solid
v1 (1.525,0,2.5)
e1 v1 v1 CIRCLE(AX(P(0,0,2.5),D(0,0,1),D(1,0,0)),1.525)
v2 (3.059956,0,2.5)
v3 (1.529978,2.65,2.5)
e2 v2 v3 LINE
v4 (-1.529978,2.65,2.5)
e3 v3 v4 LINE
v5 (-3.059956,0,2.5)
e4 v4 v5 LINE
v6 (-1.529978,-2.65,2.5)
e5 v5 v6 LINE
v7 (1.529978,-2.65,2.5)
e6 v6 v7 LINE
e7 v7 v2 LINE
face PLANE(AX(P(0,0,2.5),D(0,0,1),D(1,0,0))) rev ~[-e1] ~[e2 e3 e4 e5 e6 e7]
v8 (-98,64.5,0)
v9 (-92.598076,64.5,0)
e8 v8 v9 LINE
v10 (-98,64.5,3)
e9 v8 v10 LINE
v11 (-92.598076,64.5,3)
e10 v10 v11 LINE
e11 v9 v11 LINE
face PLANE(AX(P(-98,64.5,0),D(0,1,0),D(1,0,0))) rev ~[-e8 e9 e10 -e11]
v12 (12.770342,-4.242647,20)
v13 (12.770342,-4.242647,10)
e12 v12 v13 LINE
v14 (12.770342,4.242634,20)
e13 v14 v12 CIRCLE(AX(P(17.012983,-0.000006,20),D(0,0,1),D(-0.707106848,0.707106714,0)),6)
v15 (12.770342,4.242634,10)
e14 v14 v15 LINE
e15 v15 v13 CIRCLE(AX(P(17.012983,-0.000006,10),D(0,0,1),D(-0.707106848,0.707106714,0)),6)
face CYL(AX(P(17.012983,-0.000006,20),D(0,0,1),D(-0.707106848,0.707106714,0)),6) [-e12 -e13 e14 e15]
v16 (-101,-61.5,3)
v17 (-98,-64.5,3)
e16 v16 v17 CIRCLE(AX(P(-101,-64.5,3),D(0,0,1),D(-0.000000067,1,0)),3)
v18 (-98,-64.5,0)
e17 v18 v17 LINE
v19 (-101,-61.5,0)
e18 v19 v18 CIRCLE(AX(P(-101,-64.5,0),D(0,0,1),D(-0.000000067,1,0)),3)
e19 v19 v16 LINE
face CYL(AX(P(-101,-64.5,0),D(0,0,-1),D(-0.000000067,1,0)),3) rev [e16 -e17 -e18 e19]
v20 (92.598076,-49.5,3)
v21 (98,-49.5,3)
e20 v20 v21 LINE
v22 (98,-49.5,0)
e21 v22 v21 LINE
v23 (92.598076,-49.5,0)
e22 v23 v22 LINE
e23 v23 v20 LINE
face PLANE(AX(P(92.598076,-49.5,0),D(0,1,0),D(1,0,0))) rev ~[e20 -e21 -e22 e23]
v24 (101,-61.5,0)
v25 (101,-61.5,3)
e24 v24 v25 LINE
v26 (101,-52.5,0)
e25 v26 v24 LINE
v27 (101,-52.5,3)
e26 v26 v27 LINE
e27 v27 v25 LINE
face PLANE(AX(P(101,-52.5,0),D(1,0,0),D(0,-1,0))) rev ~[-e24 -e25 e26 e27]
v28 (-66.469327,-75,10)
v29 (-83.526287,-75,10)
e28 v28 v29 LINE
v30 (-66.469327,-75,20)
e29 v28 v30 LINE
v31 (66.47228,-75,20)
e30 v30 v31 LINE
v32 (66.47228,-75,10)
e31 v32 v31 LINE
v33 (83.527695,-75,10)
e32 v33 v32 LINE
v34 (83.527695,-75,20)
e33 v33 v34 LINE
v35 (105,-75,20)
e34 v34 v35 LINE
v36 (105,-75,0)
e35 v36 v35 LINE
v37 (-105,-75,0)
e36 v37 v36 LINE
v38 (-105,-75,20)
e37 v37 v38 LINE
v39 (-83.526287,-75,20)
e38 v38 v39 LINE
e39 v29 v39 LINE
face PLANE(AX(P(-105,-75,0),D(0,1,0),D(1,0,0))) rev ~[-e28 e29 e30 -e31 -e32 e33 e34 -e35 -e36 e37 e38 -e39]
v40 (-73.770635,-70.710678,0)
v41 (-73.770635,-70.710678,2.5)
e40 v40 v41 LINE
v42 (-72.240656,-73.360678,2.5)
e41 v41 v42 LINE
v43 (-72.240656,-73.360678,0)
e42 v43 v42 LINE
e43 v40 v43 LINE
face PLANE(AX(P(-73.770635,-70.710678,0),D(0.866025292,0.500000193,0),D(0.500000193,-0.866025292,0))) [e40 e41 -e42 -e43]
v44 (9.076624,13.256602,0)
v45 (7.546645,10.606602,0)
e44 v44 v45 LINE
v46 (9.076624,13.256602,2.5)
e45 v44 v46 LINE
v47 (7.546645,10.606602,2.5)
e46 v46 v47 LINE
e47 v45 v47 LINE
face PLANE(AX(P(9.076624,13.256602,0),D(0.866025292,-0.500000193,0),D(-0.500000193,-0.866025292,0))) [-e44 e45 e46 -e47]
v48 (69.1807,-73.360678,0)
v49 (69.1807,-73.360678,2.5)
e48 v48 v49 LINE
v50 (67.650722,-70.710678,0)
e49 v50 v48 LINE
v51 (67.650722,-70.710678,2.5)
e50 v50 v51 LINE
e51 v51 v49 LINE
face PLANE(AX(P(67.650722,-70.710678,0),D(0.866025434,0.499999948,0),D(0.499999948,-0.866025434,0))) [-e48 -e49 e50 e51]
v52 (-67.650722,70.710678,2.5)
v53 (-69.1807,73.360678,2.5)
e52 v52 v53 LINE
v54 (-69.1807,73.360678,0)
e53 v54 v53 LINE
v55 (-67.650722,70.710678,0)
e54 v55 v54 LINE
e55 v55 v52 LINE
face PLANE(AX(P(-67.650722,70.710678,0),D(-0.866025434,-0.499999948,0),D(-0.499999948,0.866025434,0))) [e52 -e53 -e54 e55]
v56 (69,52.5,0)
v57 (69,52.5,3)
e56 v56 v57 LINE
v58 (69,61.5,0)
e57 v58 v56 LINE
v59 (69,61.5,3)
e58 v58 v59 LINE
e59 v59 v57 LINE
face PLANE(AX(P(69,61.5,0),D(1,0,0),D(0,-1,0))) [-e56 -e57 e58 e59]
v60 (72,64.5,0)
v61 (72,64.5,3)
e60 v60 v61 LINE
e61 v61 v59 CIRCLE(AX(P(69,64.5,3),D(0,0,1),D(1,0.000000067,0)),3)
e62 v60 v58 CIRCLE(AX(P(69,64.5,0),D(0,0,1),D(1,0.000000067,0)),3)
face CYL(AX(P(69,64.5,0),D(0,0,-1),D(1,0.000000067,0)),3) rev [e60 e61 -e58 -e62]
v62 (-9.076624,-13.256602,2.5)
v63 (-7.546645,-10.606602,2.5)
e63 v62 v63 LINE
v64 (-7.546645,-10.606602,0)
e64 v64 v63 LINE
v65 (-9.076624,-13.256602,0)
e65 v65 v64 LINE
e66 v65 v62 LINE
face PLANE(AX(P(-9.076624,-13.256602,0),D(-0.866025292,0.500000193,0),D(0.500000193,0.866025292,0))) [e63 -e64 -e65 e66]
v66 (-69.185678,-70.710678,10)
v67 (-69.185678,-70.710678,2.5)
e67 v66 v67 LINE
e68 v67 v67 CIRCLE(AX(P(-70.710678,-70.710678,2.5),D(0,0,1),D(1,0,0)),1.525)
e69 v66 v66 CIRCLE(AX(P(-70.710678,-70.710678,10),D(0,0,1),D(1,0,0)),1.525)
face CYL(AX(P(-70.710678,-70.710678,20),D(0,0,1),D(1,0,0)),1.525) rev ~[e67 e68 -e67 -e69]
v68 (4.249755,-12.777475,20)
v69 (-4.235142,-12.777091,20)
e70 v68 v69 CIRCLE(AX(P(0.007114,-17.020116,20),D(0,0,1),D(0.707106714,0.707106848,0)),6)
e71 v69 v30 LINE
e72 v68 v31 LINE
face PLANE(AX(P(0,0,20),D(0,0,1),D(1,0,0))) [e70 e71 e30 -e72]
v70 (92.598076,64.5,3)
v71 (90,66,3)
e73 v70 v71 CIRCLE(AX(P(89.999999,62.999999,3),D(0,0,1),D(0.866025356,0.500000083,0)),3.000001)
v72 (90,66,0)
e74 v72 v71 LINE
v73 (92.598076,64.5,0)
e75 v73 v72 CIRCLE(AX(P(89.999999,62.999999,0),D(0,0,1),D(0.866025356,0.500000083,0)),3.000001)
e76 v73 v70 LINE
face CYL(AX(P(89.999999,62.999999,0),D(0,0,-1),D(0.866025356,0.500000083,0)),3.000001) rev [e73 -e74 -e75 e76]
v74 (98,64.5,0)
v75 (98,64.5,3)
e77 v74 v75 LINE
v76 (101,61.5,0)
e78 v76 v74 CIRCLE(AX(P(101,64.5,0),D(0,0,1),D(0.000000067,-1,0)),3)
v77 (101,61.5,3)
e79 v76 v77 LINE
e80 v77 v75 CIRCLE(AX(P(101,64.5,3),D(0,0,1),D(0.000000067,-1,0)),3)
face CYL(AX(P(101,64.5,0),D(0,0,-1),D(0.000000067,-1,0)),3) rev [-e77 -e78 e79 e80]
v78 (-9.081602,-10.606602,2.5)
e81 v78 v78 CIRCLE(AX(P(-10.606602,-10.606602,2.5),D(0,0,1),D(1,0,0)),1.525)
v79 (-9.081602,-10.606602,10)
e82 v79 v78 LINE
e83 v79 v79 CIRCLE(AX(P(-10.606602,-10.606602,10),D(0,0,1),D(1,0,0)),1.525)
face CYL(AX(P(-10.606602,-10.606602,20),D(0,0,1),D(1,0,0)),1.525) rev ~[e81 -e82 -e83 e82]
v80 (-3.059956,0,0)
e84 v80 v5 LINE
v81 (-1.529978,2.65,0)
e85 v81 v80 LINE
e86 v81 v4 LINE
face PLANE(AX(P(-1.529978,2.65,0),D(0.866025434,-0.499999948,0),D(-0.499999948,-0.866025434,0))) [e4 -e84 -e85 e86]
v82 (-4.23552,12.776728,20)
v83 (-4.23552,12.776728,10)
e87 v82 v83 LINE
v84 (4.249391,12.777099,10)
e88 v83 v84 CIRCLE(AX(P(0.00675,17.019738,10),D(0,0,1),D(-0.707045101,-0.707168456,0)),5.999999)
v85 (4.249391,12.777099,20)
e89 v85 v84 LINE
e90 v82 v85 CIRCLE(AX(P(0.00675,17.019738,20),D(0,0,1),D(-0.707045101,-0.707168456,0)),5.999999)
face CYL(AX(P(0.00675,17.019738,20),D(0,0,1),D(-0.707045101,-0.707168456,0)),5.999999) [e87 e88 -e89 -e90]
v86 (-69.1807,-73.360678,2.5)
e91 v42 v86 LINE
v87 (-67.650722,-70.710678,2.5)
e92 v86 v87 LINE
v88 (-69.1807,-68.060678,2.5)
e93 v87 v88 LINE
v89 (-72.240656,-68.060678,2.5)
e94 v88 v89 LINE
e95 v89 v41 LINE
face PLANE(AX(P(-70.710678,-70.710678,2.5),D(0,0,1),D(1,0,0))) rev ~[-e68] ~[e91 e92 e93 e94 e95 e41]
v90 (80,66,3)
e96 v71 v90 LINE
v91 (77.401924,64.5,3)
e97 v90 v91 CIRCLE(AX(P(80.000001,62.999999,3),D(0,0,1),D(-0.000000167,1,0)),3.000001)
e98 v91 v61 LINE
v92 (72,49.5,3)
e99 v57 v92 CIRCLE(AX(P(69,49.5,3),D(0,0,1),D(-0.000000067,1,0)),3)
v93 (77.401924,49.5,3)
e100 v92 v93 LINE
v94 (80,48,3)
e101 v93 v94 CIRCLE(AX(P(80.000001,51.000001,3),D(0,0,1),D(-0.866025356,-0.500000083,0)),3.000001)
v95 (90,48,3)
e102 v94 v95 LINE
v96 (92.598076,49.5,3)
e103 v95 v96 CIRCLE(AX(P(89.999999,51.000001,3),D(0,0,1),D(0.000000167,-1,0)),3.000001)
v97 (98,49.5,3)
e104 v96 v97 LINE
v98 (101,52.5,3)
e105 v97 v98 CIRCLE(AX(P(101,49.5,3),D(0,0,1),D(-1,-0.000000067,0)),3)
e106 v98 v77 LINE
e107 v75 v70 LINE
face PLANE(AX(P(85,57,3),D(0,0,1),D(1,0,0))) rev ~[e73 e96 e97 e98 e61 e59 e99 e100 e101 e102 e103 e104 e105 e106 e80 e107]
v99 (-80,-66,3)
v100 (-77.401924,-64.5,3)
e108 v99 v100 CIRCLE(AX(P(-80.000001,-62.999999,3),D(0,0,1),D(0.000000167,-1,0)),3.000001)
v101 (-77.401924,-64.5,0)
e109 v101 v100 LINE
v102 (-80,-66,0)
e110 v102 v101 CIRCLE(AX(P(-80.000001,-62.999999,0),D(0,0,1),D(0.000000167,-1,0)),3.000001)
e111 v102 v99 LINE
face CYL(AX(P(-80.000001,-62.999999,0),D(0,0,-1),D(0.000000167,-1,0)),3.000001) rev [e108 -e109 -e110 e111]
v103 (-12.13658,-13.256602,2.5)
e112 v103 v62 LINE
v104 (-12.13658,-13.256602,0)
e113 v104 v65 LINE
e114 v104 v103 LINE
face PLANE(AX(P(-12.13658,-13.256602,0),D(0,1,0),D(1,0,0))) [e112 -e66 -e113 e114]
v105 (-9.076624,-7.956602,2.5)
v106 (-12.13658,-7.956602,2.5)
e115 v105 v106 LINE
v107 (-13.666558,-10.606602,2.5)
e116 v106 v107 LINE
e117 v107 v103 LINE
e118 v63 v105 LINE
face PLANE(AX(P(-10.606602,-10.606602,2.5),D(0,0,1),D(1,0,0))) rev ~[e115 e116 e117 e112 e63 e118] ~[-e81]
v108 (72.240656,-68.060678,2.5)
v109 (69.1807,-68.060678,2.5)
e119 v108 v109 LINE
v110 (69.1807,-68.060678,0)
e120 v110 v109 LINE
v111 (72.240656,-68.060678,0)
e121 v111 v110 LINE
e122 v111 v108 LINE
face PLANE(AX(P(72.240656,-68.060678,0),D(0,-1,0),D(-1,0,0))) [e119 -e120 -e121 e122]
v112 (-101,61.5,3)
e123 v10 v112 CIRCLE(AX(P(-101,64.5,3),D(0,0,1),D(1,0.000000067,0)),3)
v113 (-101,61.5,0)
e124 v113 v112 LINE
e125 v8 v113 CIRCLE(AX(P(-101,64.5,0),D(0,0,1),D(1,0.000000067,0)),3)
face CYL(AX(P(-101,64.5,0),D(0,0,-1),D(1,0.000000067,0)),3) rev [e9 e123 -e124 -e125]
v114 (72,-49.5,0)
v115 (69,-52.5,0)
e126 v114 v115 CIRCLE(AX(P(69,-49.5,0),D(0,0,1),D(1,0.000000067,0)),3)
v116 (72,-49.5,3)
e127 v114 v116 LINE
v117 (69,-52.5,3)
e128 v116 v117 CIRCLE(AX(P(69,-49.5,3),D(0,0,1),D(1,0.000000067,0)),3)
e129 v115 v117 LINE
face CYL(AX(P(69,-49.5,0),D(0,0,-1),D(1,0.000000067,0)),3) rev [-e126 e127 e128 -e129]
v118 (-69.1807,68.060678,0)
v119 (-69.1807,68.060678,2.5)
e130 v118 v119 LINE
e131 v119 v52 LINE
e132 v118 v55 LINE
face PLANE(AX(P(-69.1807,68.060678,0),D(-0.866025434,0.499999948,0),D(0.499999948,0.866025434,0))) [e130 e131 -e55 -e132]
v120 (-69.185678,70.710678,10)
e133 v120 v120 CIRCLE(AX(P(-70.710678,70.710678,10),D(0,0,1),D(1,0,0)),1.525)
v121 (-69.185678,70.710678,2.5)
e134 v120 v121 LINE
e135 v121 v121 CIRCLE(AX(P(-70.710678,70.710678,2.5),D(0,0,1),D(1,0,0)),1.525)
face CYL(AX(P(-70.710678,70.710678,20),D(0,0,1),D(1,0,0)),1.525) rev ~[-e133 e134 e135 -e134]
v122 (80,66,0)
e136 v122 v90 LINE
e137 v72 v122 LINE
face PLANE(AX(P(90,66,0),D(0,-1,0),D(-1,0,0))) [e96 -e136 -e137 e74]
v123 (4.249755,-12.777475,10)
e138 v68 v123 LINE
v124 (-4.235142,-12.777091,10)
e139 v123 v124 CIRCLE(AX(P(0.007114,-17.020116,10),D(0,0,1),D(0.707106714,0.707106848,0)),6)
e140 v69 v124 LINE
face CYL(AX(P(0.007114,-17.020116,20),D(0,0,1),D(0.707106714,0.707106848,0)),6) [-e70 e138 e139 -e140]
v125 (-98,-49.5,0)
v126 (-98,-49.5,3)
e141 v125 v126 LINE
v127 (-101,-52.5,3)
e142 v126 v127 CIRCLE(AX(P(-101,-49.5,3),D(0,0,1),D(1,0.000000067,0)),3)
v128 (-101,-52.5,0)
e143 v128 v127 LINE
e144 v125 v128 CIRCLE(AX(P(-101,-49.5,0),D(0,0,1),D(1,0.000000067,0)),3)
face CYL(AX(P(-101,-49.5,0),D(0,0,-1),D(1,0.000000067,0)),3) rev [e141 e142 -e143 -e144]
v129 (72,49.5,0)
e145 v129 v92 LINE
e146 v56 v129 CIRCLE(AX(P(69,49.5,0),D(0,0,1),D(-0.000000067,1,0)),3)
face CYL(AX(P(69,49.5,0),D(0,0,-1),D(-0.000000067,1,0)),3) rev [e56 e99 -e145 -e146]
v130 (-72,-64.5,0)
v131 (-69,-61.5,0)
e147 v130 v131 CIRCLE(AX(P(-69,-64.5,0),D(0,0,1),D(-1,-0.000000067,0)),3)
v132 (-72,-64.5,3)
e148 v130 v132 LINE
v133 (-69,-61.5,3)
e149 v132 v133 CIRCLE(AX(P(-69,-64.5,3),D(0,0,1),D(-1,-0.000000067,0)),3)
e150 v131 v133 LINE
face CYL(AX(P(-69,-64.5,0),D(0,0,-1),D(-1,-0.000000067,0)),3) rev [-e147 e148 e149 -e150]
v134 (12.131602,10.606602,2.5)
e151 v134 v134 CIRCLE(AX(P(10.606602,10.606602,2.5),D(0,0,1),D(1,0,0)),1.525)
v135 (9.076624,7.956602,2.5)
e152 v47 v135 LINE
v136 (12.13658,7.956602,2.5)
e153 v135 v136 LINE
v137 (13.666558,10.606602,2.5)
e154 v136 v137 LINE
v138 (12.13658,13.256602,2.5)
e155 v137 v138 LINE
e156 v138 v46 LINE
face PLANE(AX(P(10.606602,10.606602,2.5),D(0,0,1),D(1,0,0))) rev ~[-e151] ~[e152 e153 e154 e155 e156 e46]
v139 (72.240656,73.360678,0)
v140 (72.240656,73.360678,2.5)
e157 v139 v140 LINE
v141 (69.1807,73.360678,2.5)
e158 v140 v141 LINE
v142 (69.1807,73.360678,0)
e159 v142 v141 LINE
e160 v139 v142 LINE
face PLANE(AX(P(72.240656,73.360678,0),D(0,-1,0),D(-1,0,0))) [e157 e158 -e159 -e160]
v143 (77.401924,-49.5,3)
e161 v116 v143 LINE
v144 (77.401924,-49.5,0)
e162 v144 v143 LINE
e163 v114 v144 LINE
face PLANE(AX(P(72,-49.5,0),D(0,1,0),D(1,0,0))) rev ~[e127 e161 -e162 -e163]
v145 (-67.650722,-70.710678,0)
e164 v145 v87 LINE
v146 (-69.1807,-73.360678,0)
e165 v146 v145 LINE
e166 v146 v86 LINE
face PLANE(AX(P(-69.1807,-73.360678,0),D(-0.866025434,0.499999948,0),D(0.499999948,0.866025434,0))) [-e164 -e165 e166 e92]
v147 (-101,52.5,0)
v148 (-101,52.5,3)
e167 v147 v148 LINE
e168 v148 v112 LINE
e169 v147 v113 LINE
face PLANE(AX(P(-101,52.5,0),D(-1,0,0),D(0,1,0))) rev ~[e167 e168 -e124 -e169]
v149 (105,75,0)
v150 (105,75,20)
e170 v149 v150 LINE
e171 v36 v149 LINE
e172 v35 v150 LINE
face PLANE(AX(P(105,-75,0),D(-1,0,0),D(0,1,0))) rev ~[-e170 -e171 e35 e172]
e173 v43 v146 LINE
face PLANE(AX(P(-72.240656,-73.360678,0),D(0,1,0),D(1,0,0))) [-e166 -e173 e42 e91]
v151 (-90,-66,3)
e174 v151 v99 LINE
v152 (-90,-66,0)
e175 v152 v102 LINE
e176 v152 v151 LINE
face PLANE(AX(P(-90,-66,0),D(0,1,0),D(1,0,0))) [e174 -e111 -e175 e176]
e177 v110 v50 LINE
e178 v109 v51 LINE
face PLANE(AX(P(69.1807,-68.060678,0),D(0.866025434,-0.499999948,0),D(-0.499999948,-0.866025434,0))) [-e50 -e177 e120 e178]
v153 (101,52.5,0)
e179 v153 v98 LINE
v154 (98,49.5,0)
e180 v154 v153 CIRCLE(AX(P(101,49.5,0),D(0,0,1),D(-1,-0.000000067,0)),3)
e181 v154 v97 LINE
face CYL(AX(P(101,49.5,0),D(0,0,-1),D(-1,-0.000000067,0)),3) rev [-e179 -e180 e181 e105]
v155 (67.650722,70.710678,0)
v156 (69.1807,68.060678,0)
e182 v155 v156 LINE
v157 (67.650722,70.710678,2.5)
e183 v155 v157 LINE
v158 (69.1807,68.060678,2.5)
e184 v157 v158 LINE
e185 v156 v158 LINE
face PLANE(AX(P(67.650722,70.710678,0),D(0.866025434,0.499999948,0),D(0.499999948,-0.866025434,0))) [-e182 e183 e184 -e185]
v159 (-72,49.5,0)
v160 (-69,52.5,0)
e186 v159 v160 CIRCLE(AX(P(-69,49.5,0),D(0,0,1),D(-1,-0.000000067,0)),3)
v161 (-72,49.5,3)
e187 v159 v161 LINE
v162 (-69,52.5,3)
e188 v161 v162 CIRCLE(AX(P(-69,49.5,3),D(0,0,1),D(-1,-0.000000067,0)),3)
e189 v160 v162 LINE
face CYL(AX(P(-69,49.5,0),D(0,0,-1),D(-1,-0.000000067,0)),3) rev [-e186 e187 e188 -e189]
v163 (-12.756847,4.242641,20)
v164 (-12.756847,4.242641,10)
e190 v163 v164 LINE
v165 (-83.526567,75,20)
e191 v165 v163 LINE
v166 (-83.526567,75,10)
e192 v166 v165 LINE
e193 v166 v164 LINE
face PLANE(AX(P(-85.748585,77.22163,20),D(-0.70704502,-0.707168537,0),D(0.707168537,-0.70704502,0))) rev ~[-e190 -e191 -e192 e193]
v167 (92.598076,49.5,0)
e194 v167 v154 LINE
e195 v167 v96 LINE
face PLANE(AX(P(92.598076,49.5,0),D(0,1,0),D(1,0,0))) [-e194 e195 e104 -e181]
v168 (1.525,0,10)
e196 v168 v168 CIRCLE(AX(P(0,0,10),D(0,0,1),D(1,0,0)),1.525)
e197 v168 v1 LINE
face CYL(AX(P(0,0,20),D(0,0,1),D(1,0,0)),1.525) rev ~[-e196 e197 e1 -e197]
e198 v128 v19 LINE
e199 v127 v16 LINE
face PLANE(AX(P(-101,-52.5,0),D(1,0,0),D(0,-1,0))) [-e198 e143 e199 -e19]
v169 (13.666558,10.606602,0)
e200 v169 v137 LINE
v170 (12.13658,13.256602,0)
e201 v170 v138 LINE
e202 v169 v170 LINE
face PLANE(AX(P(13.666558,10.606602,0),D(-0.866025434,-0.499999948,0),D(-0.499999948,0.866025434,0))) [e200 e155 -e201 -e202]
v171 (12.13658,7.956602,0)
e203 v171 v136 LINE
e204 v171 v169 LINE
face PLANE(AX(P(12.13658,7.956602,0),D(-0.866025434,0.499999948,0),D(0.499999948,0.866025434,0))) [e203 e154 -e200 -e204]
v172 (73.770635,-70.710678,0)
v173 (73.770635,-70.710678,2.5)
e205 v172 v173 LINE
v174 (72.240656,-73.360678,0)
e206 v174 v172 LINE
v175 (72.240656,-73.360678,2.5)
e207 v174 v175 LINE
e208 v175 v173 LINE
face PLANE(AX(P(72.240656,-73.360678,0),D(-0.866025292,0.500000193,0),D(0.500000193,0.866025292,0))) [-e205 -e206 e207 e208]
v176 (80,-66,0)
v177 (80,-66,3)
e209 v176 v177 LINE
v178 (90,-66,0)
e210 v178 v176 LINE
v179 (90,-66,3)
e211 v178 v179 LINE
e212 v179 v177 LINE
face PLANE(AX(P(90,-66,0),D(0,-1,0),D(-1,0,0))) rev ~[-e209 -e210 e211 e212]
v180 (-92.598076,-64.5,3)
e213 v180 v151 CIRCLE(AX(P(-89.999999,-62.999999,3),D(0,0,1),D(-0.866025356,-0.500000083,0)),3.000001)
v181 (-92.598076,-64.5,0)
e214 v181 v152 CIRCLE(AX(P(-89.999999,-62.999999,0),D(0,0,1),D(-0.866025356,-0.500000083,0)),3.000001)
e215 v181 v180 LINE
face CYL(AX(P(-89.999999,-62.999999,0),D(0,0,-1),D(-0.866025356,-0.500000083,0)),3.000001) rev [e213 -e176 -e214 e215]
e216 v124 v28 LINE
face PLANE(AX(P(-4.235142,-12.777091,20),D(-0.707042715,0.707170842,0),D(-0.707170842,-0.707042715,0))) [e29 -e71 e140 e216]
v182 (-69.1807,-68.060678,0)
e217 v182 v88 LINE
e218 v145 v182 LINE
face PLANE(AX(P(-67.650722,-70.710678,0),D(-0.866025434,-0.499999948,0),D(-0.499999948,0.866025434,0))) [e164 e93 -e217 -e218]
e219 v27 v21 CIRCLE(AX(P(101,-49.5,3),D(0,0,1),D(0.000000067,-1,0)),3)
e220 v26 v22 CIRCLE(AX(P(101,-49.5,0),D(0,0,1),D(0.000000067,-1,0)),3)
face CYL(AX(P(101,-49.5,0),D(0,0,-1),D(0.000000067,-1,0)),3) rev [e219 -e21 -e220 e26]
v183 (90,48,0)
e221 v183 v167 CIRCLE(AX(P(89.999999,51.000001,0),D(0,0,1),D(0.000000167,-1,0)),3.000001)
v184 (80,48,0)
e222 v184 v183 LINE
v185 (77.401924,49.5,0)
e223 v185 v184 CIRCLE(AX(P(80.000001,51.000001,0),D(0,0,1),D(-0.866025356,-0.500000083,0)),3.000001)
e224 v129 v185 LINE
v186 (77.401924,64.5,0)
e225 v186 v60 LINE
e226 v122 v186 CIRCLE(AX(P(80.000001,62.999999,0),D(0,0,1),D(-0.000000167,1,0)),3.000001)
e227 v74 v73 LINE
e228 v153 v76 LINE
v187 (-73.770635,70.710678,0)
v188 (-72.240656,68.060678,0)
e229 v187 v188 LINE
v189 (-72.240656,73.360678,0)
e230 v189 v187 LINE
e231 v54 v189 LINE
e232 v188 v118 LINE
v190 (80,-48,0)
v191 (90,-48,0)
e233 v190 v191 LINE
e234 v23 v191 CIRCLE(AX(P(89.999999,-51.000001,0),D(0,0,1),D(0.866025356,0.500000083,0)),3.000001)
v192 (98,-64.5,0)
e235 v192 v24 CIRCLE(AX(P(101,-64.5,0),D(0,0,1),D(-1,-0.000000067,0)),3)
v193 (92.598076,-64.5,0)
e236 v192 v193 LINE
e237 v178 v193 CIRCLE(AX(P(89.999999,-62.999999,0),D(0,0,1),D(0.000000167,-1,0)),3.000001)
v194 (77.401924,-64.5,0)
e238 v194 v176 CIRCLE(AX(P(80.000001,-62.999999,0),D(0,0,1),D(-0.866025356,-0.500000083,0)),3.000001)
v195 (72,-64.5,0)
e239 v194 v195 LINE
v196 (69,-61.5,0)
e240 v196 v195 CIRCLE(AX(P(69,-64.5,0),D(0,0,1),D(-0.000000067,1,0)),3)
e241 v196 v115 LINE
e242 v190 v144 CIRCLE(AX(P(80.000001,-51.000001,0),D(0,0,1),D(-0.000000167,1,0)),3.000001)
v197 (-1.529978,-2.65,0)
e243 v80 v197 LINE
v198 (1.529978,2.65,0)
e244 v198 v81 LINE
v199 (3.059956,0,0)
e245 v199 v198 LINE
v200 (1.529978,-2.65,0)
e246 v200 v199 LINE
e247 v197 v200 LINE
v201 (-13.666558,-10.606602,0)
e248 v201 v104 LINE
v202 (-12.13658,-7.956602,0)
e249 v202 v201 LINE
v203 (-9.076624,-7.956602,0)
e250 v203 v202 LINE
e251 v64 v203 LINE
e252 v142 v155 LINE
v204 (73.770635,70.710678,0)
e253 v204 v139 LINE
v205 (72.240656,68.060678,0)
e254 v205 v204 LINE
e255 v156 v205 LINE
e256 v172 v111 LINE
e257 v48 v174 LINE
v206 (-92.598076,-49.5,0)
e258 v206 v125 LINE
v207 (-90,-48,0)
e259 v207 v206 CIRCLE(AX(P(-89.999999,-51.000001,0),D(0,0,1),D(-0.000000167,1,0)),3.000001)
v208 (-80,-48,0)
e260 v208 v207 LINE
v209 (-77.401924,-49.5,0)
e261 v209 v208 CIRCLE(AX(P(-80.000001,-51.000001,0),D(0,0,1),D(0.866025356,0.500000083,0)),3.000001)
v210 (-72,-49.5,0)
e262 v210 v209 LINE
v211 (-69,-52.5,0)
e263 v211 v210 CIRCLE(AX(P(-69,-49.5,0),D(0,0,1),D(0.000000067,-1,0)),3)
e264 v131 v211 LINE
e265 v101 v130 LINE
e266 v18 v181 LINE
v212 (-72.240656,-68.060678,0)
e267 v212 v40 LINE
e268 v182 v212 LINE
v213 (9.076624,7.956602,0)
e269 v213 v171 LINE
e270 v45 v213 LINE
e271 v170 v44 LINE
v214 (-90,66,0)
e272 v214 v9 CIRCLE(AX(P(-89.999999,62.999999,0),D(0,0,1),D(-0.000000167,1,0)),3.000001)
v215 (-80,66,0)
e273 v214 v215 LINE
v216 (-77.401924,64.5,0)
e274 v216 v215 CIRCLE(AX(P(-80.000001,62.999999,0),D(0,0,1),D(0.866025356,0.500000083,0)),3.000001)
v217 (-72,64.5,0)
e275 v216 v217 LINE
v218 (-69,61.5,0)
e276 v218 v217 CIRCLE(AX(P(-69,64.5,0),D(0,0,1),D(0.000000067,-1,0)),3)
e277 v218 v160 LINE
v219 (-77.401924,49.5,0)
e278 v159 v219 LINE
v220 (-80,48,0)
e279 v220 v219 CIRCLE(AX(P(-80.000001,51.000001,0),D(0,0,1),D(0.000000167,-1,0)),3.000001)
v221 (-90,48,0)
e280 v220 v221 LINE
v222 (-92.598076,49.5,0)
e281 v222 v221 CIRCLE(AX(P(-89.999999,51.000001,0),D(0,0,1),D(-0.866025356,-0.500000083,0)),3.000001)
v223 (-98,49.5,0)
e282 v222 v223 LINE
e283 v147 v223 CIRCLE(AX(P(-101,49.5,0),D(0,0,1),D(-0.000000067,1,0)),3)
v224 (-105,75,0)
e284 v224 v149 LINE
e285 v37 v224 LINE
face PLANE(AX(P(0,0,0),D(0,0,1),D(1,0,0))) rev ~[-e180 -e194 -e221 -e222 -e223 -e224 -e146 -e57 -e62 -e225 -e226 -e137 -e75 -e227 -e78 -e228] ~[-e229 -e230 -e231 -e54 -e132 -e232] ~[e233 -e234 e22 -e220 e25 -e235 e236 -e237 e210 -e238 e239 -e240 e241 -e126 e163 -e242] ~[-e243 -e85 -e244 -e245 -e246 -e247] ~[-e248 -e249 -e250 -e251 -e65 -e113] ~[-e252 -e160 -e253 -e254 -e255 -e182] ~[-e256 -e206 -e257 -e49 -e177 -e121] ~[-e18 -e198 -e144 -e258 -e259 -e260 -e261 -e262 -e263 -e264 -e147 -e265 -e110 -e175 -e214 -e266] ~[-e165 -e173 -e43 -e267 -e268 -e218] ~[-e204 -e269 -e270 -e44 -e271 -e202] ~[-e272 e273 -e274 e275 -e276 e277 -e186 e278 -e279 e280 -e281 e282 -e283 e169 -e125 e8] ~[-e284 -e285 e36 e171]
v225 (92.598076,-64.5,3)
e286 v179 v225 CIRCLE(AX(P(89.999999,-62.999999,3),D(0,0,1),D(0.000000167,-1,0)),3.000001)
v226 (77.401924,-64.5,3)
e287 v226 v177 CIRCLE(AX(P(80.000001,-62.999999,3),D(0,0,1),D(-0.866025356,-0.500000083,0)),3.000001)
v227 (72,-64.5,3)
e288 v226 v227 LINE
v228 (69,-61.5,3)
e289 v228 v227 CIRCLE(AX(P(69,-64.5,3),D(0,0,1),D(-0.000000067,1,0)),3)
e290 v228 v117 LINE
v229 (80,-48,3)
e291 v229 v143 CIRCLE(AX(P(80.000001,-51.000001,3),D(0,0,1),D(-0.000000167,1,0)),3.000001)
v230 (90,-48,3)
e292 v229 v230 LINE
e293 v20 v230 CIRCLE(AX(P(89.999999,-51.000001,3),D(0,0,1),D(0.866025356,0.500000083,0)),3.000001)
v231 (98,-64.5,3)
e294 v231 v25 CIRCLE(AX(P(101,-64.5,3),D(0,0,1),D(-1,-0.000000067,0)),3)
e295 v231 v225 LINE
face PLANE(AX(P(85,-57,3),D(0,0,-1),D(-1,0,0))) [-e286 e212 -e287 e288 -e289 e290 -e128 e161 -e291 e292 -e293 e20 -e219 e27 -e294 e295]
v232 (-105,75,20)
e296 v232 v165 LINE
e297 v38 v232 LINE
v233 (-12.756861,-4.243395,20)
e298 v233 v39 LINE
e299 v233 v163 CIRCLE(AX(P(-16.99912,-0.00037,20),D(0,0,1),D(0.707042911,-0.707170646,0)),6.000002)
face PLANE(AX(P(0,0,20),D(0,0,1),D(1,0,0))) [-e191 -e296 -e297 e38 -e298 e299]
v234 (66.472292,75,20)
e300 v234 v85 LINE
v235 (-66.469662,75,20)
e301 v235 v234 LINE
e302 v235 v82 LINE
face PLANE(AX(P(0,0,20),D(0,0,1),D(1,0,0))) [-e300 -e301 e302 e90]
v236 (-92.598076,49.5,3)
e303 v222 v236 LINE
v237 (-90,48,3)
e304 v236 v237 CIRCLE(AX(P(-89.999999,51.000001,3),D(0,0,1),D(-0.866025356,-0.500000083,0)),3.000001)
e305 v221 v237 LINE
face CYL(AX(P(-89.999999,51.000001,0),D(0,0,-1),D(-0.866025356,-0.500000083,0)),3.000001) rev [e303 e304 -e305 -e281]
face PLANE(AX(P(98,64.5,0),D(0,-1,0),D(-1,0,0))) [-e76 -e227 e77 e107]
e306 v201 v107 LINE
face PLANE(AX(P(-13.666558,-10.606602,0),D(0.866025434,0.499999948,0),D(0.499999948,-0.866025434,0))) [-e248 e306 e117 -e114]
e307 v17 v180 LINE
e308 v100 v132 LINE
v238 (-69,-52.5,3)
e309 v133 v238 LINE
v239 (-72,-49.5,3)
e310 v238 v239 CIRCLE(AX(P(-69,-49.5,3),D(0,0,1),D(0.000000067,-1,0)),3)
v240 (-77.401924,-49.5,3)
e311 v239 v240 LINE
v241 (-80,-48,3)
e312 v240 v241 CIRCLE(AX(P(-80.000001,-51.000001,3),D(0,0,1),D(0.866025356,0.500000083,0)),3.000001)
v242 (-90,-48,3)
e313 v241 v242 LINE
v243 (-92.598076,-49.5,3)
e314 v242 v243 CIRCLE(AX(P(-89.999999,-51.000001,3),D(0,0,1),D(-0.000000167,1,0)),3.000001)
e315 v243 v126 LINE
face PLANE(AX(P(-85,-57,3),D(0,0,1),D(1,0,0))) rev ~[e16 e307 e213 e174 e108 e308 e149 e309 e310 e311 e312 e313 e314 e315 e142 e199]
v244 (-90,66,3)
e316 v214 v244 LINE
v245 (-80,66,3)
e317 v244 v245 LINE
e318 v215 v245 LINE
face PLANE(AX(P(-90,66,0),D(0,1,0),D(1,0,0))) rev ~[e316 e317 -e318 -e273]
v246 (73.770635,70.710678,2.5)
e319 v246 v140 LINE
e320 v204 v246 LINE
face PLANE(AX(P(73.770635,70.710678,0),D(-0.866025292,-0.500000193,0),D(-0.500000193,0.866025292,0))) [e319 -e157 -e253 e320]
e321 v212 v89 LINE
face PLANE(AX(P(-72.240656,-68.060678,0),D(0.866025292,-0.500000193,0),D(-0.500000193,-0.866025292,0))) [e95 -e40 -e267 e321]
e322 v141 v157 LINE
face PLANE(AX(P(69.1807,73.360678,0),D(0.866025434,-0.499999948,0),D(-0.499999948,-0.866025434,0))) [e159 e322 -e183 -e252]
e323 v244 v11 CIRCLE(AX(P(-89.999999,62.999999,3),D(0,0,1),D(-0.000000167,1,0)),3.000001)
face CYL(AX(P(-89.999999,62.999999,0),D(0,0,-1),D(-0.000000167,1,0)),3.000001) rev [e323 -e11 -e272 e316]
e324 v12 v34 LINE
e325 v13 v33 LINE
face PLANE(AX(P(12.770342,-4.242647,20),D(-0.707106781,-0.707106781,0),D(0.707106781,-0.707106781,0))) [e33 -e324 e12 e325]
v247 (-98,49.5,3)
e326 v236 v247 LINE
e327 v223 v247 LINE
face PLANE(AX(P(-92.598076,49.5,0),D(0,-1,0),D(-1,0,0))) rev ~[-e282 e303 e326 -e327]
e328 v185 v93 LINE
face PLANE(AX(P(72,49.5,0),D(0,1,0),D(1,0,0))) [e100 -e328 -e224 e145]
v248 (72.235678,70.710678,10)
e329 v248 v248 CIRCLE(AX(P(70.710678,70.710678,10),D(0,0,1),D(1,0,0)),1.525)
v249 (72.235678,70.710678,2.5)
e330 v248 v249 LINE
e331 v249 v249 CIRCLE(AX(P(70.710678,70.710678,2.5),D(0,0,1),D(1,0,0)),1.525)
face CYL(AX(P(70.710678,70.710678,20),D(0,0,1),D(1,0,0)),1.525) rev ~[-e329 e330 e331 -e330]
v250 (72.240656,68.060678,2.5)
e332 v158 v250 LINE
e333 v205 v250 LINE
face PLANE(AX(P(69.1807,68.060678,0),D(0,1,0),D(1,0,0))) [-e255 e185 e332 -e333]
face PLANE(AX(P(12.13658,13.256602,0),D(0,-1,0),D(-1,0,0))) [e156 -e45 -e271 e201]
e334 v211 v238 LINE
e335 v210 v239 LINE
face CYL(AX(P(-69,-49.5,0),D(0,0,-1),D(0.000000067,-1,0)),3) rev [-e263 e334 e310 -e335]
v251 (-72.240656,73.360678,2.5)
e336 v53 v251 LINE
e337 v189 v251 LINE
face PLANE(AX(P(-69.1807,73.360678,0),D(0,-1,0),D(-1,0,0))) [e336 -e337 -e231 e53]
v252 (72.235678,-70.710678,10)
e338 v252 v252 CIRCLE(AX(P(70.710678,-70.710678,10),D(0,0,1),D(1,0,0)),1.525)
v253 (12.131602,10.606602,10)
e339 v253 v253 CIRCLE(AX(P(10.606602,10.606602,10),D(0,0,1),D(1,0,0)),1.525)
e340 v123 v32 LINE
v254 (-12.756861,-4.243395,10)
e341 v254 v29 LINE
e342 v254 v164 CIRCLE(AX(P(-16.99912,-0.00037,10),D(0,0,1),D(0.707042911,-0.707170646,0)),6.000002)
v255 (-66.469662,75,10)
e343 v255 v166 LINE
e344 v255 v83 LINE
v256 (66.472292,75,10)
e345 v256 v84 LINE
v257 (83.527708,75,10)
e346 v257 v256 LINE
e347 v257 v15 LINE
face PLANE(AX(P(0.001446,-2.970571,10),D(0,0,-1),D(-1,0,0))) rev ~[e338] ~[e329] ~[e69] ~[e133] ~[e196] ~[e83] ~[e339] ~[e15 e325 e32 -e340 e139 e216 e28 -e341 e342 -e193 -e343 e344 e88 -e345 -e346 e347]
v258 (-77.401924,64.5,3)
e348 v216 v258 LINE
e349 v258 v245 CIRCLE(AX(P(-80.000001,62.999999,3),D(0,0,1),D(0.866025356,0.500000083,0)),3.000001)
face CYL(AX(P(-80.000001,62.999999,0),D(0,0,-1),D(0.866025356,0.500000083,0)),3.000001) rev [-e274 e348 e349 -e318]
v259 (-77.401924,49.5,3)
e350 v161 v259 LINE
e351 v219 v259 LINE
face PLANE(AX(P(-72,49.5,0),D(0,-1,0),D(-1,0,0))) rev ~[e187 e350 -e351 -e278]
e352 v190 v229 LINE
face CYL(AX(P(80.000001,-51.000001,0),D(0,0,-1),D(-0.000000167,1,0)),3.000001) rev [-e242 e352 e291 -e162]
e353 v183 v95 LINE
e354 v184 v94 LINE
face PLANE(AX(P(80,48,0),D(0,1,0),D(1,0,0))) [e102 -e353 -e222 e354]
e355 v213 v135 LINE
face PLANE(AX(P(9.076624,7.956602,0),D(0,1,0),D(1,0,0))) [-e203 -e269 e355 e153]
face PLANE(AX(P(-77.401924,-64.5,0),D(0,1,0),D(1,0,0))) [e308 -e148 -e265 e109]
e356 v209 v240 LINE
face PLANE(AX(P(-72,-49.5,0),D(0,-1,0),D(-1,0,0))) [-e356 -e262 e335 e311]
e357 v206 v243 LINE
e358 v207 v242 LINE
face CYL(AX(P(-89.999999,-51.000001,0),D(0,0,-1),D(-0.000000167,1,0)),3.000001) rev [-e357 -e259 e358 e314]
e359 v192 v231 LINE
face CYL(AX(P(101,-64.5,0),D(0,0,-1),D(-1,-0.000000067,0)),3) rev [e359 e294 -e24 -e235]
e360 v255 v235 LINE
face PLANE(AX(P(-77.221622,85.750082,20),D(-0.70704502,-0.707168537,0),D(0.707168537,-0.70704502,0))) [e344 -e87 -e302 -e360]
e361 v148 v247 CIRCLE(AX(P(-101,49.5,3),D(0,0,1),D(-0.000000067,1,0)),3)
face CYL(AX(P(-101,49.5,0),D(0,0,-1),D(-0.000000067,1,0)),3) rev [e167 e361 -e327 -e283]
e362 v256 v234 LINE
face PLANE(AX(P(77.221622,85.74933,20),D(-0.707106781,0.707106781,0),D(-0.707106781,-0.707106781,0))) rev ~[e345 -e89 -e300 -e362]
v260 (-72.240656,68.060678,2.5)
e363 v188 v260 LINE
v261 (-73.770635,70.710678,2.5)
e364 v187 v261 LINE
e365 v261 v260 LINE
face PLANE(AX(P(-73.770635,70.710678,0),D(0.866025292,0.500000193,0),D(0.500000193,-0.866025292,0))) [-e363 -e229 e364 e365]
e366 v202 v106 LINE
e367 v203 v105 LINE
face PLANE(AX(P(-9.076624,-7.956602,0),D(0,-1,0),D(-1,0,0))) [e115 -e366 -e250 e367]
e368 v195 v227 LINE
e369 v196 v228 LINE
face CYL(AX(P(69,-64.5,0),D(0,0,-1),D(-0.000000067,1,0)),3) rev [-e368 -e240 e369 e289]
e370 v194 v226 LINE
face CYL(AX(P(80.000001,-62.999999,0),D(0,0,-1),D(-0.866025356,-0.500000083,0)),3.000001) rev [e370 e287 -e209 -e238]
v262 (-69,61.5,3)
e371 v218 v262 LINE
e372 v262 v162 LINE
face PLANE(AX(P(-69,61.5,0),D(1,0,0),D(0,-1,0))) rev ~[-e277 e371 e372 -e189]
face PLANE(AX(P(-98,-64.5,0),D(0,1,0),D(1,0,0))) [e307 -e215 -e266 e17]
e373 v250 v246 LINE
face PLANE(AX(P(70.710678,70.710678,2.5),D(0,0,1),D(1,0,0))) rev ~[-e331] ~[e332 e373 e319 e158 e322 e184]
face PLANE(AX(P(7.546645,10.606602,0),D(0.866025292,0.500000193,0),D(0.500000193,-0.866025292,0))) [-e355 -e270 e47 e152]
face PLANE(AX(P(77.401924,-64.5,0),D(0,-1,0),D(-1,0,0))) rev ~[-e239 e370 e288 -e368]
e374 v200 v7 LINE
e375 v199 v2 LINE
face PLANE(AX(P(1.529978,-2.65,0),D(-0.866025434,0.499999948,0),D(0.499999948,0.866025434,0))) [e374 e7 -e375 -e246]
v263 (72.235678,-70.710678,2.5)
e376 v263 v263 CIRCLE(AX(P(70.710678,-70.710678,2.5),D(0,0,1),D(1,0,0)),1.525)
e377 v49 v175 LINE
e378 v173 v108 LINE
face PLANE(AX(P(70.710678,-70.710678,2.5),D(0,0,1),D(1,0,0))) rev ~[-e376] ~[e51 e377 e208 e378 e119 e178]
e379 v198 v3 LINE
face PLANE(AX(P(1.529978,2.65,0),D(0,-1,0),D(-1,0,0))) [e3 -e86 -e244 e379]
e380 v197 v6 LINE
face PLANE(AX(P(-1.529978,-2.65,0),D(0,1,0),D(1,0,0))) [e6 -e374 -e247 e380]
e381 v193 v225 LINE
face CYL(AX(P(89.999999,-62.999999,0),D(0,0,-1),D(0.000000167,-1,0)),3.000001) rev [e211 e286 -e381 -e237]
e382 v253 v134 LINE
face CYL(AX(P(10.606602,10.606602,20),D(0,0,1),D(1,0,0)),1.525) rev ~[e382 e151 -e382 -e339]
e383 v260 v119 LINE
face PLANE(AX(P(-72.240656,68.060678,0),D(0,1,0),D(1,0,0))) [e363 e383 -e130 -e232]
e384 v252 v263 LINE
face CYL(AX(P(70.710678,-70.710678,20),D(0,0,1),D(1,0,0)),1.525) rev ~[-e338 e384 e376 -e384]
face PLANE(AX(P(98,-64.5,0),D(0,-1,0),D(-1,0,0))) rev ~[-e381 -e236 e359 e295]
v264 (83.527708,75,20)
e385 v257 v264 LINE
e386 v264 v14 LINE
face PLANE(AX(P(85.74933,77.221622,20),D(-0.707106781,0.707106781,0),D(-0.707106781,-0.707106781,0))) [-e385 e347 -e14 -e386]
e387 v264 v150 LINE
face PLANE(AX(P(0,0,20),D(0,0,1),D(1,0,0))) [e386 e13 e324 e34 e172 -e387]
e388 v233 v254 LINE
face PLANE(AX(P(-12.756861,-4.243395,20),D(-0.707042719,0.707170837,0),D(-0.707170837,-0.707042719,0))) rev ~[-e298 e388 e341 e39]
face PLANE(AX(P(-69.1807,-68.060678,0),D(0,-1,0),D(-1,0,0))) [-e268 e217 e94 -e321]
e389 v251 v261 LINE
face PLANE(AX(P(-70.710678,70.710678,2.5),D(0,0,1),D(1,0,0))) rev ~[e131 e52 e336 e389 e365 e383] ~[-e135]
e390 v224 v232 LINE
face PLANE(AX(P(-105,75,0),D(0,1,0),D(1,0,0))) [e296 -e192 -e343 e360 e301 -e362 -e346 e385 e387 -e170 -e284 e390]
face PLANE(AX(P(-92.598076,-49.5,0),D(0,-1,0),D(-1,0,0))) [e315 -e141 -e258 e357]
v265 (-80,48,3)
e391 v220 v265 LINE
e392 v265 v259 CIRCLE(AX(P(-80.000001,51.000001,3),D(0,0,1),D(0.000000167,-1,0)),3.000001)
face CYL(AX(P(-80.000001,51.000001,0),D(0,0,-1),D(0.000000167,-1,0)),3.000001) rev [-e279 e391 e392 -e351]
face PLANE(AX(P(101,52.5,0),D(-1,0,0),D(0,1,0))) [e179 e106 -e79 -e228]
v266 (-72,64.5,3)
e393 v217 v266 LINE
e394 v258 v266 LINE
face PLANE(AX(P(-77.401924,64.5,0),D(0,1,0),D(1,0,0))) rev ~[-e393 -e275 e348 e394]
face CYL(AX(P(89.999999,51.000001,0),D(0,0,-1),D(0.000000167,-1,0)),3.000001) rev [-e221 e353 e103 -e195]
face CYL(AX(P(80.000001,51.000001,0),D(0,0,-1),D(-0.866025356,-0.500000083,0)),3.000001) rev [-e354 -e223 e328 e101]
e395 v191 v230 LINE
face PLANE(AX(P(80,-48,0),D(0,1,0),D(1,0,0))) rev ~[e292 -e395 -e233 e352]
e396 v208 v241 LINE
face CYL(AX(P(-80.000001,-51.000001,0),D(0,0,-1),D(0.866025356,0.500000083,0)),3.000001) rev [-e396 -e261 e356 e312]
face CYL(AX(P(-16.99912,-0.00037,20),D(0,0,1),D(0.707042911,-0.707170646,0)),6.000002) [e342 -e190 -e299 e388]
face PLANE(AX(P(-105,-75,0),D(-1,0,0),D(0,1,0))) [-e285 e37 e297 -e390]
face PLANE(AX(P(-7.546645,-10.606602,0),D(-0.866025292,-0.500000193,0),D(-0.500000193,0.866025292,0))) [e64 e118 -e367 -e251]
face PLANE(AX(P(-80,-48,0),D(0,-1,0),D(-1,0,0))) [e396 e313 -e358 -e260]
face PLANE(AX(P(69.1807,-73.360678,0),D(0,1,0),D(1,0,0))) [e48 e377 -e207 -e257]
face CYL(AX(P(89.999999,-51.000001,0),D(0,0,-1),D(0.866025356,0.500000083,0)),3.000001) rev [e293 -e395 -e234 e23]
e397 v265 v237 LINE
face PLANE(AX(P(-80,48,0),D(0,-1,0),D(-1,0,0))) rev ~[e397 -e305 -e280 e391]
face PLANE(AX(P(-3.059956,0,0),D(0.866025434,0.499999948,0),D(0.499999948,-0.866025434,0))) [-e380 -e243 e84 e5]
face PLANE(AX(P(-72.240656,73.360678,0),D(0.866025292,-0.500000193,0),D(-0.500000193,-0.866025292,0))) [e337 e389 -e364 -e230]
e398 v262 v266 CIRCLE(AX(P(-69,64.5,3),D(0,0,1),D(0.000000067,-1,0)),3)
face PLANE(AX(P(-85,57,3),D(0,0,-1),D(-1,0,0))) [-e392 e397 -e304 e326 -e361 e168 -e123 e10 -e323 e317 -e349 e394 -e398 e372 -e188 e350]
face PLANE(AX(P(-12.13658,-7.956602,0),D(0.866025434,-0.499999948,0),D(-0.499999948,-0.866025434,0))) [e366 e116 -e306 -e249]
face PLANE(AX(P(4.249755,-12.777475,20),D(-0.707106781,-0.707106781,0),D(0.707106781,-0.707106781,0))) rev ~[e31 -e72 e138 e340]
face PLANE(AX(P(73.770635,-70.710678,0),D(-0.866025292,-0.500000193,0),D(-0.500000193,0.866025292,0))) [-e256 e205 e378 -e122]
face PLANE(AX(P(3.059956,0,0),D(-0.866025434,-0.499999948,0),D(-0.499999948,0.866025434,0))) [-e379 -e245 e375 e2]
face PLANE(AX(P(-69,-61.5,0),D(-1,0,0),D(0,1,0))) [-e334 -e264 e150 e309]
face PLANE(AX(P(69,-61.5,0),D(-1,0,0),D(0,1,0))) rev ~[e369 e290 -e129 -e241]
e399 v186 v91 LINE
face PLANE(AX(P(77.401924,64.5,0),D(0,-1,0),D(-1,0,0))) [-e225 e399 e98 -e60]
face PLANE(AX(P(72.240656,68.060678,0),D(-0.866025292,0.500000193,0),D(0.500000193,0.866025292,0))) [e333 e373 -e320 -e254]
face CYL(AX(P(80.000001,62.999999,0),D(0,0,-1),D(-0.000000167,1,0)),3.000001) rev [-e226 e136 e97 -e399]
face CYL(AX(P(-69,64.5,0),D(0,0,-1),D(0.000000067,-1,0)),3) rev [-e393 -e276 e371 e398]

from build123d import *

# Parameters (mm, degrees)
SKETCH_W        = 210
SKETCH_H        = 150
PAD_DEPTH       = 20
POCKET_DEPTH    = 10
SKETCH002_R     = 1.525
HOLE_DEPTH      = 25
POCKET001_DEPTH = 2.5
POCKET002_DEPTH = 3


with BuildPart() as part:
    # Sketch → Pad (new body)
    with BuildSketch(Plane.XY):
        Rectangle(SKETCH_W, SKETCH_H)
    extrude(amount=PAD_DEPTH)

    # Sketch001 → Pocket (cut)
    with BuildSketch(Plane.XY.offset(20)):
        with BuildLine():
            ThreePointArc((12.770342, 4.242634), (11.012983, -6e-06), (12.770342, -4.242647))
            Line((12.770342, -4.242647), (91.340443, -82.812748))
            Line((82.812735, -91.340455), (91.340443, -82.812748))
            Line((4.249755, -12.777475), (82.812735, -91.340455))
            ThreePointArc((4.249755, -12.777475), (0.007386, -11.020116), (-4.235142, -12.777091))
            Line((-4.235142, -12.777091), (-82.813511, -91.341223))
            Line((-82.813511, -91.341223), (-91.340446, -82.812743))
            Line((-12.756861, -4.243395), (-91.340446, -82.812743))
            ThreePointArc((-12.756861, -4.243395), (-10.999118, -0.00038), (-12.756847, 4.242641))
            Line((-85.748585, 77.22163), (-12.756847, 4.242641))
            Line((-85.748585, 77.22163), (-77.221622, 85.750082))
            Line((-77.221622, 85.750082), (-4.23552, 12.776728))
            ThreePointArc((-4.23552, 12.776728), (0.007012, 11.019739), (4.249391, 12.777099))
            Line((77.221622, 85.74933), (4.249391, 12.777099))
            Line((85.74933, 77.221622), (77.221622, 85.74933))
            Line((85.74933, 77.221622), (12.770342, 4.242634))
        make_face()
    extrude(amount=-POCKET_DEPTH, mode=Mode.SUBTRACT)

    # Sketch002 → Hole (cut)
    with BuildSketch(Plane.XY.offset(20)):
        with Locations((70.710678, 70.710678)):
            Circle(SKETCH002_R)
        with Locations((-70.710678, 70.710678)):
            Circle(SKETCH002_R)
        with Locations((70.710678, -70.710678)):
            Circle(SKETCH002_R)
        with Locations((-70.710678, -70.710678)):
            Circle(SKETCH002_R)
        Circle(SKETCH002_R)
        with Locations((10.606602, 10.606602)):
            Circle(SKETCH002_R)
        with Locations((-10.606602, -10.606602)):
            Circle(SKETCH002_R)
    extrude(amount=-HOLE_DEPTH, mode=Mode.SUBTRACT)

    # Sketch003 → Pocket001 (cut)
    with BuildSketch(Plane.XY):
        Polygon((69.1807, 73.360678), (67.650722, 70.710678), (69.1807, 68.060678), (72.240656, 68.060678), (73.770635, 70.710678), (72.240656, 73.360678), align=None)
        Polygon((13.666558, 10.606602), (12.13658, 13.256602), (9.076624, 13.256602), (7.546645, 10.606602), (9.076624, 7.956602), (12.13658, 7.956602), align=None)
        Polygon((3.059956, 0), (1.529978, 2.65), (-1.529978, 2.65), (-3.059956, 0), (-1.529978, -2.65), (1.529978, -2.65), align=None)
        Polygon((-7.546645, -10.606602), (-9.076624, -7.956602), (-12.13658, -7.956602), (-13.666558, -10.606602), (-12.13658, -13.256602), (-9.076624, -13.256602), align=None)
        Polygon((-72.240656, -68.060678), (-73.770635, -70.710678), (-72.240656, -73.360678), (-69.1807, -73.360678), (-67.650722, -70.710678), (-69.1807, -68.060678), align=None)
        Polygon((-67.650722, 70.710678), (-69.1807, 73.360678), (-72.240656, 73.360678), (-73.770635, 70.710678), (-72.240656, 68.060678), (-69.1807, 68.060678), align=None)
        Polygon((73.770635, -70.710678), (72.240656, -68.060678), (69.1807, -68.060678), (67.650722, -70.710678), (69.1807, -73.360678), (72.240656, -73.360678), align=None)
    extrude(amount=POCKET001_DEPTH, mode=Mode.SUBTRACT)

    # Sketch004 → Pocket002 (cut)
    with BuildSketch(Plane.XY):
        with BuildLine():
            Line((-72, -49.5), (-77.401924, -49.5))
            ThreePointArc((-77.401924, -49.5), (-78.5, -48.401924), (-80, -48))
            Line((-80, -48), (-90, -48))
            ThreePointArc((-90, -48), (-91.5, -48.401924), (-92.598076, -49.5))
            Line((-92.598076, -49.5), (-98, -49.5))
            ThreePointArc((-98, -49.5), (-103.12132, -47.37868), (-101, -52.5))
            Line((-101, -52.5), (-101, -61.5))
            ThreePointArc((-101, -61.5), (-103.12132, -66.62132), (-98, -64.5))
            Line((-98, -64.5), (-92.598076, -64.5))
            ThreePointArc((-92.598076, -64.5), (-91.5, -65.598076), (-90, -66))
            Line((-90, -66), (-80, -66))
            ThreePointArc((-80, -66), (-78.5, -65.598076), (-77.401924, -64.5))
            Line((-77.401924, -64.5), (-72, -64.5))
            ThreePointArc((-72, -64.5), (-66.87868, -66.62132), (-69, -61.5))
            Line((-69, -61.5), (-69, -52.5))
            ThreePointArc((-69, -52.5), (-66.87868, -47.37868), (-72, -49.5))
        make_face()
        with BuildLine():
            Line((72, -49.5), (77.401924, -49.5))
            ThreePointArc((80, -48), (78.5, -48.401924), (77.401924, -49.5))
            Line((80, -48), (90, -48))
            ThreePointArc((92.598076, -49.5), (91.5, -48.401924), (90, -48))
            Line((92.598076, -49.5), (98, -49.5))
            ThreePointArc((101, -52.5), (103.12132, -47.37868), (98, -49.5))
            Line((101, -52.5), (101, -61.5))
            ThreePointArc((98, -64.5), (103.12132, -66.62132), (101, -61.5))
            Line((98, -64.5), (92.598076, -64.5))
            ThreePointArc((90, -66), (91.5, -65.598076), (92.598076, -64.5))
            Line((90, -66), (80, -66))
            ThreePointArc((77.401924, -64.5), (78.5, -65.598076), (80, -66))
            Line((77.401924, -64.5), (72, -64.5))
            ThreePointArc((69, -61.5), (66.87868, -66.62132), (72, -64.5))
            Line((69, -61.5), (69, -52.5))
            ThreePointArc((72, -49.5), (66.87868, -47.37868), (69, -52.5))
        make_face()
        with BuildLine():
            Line((-72, 49.5), (-77.401924, 49.5))
            ThreePointArc((-80, 48), (-78.5, 48.401924), (-77.401924, 49.5))
            Line((-80, 48), (-90, 48))
            ThreePointArc((-92.598076, 49.5), (-91.5, 48.401924), (-90, 48))
            Line((-92.598076, 49.5), (-98, 49.5))
            ThreePointArc((-101, 52.5), (-103.12132, 47.37868), (-98, 49.5))
            Line((-101, 52.5), (-101, 61.5))
            ThreePointArc((-98, 64.5), (-103.12132, 66.62132), (-101, 61.5))
            Line((-98, 64.5), (-92.598076, 64.5))
            ThreePointArc((-90, 66), (-91.5, 65.598076), (-92.598076, 64.5))
            Line((-90, 66), (-80, 66))
            ThreePointArc((-77.401924, 64.5), (-78.5, 65.598076), (-80, 66))
            Line((-77.401924, 64.5), (-72, 64.5))
            ThreePointArc((-69, 61.5), (-66.87868, 66.62132), (-72, 64.5))
            Line((-69, 61.5), (-69, 52.5))
            ThreePointArc((-72, 49.5), (-66.87868, 47.37868), (-69, 52.5))
        make_face()
        with BuildLine():
            Line((72, 49.5), (77.401924, 49.5))
            ThreePointArc((77.401924, 49.5), (78.5, 48.401924), (80, 48))
            Line((80, 48), (90, 48))
            ThreePointArc((90, 48), (91.5, 48.401924), (92.598076, 49.5))
            Line((92.598076, 49.5), (98, 49.5))
            ThreePointArc((98, 49.5), (103.12132, 47.37868), (101, 52.5))
            Line((101, 52.5), (101, 61.5))
            ThreePointArc((101, 61.5), (103.12132, 66.62132), (98, 64.5))
            Line((98, 64.5), (92.598076, 64.5))
            ThreePointArc((92.598076, 64.5), (91.5, 65.598076), (90, 66))
            Line((90, 66), (80, 66))
            ThreePointArc((80, 66), (78.5, 65.598076), (77.401924, 64.5))
            Line((77.401924, 64.5), (72, 64.5))
            ThreePointArc((72, 64.5), (66.87868, 66.62132), (69, 61.5))
            Line((69, 61.5), (69, 52.5))
            ThreePointArc((69, 52.5), (66.87868, 47.37868), (72, 49.5))
        make_face()
    extrude(amount=POCKET002_DEPTH, mode=Mode.SUBTRACT)


solid = part.part
